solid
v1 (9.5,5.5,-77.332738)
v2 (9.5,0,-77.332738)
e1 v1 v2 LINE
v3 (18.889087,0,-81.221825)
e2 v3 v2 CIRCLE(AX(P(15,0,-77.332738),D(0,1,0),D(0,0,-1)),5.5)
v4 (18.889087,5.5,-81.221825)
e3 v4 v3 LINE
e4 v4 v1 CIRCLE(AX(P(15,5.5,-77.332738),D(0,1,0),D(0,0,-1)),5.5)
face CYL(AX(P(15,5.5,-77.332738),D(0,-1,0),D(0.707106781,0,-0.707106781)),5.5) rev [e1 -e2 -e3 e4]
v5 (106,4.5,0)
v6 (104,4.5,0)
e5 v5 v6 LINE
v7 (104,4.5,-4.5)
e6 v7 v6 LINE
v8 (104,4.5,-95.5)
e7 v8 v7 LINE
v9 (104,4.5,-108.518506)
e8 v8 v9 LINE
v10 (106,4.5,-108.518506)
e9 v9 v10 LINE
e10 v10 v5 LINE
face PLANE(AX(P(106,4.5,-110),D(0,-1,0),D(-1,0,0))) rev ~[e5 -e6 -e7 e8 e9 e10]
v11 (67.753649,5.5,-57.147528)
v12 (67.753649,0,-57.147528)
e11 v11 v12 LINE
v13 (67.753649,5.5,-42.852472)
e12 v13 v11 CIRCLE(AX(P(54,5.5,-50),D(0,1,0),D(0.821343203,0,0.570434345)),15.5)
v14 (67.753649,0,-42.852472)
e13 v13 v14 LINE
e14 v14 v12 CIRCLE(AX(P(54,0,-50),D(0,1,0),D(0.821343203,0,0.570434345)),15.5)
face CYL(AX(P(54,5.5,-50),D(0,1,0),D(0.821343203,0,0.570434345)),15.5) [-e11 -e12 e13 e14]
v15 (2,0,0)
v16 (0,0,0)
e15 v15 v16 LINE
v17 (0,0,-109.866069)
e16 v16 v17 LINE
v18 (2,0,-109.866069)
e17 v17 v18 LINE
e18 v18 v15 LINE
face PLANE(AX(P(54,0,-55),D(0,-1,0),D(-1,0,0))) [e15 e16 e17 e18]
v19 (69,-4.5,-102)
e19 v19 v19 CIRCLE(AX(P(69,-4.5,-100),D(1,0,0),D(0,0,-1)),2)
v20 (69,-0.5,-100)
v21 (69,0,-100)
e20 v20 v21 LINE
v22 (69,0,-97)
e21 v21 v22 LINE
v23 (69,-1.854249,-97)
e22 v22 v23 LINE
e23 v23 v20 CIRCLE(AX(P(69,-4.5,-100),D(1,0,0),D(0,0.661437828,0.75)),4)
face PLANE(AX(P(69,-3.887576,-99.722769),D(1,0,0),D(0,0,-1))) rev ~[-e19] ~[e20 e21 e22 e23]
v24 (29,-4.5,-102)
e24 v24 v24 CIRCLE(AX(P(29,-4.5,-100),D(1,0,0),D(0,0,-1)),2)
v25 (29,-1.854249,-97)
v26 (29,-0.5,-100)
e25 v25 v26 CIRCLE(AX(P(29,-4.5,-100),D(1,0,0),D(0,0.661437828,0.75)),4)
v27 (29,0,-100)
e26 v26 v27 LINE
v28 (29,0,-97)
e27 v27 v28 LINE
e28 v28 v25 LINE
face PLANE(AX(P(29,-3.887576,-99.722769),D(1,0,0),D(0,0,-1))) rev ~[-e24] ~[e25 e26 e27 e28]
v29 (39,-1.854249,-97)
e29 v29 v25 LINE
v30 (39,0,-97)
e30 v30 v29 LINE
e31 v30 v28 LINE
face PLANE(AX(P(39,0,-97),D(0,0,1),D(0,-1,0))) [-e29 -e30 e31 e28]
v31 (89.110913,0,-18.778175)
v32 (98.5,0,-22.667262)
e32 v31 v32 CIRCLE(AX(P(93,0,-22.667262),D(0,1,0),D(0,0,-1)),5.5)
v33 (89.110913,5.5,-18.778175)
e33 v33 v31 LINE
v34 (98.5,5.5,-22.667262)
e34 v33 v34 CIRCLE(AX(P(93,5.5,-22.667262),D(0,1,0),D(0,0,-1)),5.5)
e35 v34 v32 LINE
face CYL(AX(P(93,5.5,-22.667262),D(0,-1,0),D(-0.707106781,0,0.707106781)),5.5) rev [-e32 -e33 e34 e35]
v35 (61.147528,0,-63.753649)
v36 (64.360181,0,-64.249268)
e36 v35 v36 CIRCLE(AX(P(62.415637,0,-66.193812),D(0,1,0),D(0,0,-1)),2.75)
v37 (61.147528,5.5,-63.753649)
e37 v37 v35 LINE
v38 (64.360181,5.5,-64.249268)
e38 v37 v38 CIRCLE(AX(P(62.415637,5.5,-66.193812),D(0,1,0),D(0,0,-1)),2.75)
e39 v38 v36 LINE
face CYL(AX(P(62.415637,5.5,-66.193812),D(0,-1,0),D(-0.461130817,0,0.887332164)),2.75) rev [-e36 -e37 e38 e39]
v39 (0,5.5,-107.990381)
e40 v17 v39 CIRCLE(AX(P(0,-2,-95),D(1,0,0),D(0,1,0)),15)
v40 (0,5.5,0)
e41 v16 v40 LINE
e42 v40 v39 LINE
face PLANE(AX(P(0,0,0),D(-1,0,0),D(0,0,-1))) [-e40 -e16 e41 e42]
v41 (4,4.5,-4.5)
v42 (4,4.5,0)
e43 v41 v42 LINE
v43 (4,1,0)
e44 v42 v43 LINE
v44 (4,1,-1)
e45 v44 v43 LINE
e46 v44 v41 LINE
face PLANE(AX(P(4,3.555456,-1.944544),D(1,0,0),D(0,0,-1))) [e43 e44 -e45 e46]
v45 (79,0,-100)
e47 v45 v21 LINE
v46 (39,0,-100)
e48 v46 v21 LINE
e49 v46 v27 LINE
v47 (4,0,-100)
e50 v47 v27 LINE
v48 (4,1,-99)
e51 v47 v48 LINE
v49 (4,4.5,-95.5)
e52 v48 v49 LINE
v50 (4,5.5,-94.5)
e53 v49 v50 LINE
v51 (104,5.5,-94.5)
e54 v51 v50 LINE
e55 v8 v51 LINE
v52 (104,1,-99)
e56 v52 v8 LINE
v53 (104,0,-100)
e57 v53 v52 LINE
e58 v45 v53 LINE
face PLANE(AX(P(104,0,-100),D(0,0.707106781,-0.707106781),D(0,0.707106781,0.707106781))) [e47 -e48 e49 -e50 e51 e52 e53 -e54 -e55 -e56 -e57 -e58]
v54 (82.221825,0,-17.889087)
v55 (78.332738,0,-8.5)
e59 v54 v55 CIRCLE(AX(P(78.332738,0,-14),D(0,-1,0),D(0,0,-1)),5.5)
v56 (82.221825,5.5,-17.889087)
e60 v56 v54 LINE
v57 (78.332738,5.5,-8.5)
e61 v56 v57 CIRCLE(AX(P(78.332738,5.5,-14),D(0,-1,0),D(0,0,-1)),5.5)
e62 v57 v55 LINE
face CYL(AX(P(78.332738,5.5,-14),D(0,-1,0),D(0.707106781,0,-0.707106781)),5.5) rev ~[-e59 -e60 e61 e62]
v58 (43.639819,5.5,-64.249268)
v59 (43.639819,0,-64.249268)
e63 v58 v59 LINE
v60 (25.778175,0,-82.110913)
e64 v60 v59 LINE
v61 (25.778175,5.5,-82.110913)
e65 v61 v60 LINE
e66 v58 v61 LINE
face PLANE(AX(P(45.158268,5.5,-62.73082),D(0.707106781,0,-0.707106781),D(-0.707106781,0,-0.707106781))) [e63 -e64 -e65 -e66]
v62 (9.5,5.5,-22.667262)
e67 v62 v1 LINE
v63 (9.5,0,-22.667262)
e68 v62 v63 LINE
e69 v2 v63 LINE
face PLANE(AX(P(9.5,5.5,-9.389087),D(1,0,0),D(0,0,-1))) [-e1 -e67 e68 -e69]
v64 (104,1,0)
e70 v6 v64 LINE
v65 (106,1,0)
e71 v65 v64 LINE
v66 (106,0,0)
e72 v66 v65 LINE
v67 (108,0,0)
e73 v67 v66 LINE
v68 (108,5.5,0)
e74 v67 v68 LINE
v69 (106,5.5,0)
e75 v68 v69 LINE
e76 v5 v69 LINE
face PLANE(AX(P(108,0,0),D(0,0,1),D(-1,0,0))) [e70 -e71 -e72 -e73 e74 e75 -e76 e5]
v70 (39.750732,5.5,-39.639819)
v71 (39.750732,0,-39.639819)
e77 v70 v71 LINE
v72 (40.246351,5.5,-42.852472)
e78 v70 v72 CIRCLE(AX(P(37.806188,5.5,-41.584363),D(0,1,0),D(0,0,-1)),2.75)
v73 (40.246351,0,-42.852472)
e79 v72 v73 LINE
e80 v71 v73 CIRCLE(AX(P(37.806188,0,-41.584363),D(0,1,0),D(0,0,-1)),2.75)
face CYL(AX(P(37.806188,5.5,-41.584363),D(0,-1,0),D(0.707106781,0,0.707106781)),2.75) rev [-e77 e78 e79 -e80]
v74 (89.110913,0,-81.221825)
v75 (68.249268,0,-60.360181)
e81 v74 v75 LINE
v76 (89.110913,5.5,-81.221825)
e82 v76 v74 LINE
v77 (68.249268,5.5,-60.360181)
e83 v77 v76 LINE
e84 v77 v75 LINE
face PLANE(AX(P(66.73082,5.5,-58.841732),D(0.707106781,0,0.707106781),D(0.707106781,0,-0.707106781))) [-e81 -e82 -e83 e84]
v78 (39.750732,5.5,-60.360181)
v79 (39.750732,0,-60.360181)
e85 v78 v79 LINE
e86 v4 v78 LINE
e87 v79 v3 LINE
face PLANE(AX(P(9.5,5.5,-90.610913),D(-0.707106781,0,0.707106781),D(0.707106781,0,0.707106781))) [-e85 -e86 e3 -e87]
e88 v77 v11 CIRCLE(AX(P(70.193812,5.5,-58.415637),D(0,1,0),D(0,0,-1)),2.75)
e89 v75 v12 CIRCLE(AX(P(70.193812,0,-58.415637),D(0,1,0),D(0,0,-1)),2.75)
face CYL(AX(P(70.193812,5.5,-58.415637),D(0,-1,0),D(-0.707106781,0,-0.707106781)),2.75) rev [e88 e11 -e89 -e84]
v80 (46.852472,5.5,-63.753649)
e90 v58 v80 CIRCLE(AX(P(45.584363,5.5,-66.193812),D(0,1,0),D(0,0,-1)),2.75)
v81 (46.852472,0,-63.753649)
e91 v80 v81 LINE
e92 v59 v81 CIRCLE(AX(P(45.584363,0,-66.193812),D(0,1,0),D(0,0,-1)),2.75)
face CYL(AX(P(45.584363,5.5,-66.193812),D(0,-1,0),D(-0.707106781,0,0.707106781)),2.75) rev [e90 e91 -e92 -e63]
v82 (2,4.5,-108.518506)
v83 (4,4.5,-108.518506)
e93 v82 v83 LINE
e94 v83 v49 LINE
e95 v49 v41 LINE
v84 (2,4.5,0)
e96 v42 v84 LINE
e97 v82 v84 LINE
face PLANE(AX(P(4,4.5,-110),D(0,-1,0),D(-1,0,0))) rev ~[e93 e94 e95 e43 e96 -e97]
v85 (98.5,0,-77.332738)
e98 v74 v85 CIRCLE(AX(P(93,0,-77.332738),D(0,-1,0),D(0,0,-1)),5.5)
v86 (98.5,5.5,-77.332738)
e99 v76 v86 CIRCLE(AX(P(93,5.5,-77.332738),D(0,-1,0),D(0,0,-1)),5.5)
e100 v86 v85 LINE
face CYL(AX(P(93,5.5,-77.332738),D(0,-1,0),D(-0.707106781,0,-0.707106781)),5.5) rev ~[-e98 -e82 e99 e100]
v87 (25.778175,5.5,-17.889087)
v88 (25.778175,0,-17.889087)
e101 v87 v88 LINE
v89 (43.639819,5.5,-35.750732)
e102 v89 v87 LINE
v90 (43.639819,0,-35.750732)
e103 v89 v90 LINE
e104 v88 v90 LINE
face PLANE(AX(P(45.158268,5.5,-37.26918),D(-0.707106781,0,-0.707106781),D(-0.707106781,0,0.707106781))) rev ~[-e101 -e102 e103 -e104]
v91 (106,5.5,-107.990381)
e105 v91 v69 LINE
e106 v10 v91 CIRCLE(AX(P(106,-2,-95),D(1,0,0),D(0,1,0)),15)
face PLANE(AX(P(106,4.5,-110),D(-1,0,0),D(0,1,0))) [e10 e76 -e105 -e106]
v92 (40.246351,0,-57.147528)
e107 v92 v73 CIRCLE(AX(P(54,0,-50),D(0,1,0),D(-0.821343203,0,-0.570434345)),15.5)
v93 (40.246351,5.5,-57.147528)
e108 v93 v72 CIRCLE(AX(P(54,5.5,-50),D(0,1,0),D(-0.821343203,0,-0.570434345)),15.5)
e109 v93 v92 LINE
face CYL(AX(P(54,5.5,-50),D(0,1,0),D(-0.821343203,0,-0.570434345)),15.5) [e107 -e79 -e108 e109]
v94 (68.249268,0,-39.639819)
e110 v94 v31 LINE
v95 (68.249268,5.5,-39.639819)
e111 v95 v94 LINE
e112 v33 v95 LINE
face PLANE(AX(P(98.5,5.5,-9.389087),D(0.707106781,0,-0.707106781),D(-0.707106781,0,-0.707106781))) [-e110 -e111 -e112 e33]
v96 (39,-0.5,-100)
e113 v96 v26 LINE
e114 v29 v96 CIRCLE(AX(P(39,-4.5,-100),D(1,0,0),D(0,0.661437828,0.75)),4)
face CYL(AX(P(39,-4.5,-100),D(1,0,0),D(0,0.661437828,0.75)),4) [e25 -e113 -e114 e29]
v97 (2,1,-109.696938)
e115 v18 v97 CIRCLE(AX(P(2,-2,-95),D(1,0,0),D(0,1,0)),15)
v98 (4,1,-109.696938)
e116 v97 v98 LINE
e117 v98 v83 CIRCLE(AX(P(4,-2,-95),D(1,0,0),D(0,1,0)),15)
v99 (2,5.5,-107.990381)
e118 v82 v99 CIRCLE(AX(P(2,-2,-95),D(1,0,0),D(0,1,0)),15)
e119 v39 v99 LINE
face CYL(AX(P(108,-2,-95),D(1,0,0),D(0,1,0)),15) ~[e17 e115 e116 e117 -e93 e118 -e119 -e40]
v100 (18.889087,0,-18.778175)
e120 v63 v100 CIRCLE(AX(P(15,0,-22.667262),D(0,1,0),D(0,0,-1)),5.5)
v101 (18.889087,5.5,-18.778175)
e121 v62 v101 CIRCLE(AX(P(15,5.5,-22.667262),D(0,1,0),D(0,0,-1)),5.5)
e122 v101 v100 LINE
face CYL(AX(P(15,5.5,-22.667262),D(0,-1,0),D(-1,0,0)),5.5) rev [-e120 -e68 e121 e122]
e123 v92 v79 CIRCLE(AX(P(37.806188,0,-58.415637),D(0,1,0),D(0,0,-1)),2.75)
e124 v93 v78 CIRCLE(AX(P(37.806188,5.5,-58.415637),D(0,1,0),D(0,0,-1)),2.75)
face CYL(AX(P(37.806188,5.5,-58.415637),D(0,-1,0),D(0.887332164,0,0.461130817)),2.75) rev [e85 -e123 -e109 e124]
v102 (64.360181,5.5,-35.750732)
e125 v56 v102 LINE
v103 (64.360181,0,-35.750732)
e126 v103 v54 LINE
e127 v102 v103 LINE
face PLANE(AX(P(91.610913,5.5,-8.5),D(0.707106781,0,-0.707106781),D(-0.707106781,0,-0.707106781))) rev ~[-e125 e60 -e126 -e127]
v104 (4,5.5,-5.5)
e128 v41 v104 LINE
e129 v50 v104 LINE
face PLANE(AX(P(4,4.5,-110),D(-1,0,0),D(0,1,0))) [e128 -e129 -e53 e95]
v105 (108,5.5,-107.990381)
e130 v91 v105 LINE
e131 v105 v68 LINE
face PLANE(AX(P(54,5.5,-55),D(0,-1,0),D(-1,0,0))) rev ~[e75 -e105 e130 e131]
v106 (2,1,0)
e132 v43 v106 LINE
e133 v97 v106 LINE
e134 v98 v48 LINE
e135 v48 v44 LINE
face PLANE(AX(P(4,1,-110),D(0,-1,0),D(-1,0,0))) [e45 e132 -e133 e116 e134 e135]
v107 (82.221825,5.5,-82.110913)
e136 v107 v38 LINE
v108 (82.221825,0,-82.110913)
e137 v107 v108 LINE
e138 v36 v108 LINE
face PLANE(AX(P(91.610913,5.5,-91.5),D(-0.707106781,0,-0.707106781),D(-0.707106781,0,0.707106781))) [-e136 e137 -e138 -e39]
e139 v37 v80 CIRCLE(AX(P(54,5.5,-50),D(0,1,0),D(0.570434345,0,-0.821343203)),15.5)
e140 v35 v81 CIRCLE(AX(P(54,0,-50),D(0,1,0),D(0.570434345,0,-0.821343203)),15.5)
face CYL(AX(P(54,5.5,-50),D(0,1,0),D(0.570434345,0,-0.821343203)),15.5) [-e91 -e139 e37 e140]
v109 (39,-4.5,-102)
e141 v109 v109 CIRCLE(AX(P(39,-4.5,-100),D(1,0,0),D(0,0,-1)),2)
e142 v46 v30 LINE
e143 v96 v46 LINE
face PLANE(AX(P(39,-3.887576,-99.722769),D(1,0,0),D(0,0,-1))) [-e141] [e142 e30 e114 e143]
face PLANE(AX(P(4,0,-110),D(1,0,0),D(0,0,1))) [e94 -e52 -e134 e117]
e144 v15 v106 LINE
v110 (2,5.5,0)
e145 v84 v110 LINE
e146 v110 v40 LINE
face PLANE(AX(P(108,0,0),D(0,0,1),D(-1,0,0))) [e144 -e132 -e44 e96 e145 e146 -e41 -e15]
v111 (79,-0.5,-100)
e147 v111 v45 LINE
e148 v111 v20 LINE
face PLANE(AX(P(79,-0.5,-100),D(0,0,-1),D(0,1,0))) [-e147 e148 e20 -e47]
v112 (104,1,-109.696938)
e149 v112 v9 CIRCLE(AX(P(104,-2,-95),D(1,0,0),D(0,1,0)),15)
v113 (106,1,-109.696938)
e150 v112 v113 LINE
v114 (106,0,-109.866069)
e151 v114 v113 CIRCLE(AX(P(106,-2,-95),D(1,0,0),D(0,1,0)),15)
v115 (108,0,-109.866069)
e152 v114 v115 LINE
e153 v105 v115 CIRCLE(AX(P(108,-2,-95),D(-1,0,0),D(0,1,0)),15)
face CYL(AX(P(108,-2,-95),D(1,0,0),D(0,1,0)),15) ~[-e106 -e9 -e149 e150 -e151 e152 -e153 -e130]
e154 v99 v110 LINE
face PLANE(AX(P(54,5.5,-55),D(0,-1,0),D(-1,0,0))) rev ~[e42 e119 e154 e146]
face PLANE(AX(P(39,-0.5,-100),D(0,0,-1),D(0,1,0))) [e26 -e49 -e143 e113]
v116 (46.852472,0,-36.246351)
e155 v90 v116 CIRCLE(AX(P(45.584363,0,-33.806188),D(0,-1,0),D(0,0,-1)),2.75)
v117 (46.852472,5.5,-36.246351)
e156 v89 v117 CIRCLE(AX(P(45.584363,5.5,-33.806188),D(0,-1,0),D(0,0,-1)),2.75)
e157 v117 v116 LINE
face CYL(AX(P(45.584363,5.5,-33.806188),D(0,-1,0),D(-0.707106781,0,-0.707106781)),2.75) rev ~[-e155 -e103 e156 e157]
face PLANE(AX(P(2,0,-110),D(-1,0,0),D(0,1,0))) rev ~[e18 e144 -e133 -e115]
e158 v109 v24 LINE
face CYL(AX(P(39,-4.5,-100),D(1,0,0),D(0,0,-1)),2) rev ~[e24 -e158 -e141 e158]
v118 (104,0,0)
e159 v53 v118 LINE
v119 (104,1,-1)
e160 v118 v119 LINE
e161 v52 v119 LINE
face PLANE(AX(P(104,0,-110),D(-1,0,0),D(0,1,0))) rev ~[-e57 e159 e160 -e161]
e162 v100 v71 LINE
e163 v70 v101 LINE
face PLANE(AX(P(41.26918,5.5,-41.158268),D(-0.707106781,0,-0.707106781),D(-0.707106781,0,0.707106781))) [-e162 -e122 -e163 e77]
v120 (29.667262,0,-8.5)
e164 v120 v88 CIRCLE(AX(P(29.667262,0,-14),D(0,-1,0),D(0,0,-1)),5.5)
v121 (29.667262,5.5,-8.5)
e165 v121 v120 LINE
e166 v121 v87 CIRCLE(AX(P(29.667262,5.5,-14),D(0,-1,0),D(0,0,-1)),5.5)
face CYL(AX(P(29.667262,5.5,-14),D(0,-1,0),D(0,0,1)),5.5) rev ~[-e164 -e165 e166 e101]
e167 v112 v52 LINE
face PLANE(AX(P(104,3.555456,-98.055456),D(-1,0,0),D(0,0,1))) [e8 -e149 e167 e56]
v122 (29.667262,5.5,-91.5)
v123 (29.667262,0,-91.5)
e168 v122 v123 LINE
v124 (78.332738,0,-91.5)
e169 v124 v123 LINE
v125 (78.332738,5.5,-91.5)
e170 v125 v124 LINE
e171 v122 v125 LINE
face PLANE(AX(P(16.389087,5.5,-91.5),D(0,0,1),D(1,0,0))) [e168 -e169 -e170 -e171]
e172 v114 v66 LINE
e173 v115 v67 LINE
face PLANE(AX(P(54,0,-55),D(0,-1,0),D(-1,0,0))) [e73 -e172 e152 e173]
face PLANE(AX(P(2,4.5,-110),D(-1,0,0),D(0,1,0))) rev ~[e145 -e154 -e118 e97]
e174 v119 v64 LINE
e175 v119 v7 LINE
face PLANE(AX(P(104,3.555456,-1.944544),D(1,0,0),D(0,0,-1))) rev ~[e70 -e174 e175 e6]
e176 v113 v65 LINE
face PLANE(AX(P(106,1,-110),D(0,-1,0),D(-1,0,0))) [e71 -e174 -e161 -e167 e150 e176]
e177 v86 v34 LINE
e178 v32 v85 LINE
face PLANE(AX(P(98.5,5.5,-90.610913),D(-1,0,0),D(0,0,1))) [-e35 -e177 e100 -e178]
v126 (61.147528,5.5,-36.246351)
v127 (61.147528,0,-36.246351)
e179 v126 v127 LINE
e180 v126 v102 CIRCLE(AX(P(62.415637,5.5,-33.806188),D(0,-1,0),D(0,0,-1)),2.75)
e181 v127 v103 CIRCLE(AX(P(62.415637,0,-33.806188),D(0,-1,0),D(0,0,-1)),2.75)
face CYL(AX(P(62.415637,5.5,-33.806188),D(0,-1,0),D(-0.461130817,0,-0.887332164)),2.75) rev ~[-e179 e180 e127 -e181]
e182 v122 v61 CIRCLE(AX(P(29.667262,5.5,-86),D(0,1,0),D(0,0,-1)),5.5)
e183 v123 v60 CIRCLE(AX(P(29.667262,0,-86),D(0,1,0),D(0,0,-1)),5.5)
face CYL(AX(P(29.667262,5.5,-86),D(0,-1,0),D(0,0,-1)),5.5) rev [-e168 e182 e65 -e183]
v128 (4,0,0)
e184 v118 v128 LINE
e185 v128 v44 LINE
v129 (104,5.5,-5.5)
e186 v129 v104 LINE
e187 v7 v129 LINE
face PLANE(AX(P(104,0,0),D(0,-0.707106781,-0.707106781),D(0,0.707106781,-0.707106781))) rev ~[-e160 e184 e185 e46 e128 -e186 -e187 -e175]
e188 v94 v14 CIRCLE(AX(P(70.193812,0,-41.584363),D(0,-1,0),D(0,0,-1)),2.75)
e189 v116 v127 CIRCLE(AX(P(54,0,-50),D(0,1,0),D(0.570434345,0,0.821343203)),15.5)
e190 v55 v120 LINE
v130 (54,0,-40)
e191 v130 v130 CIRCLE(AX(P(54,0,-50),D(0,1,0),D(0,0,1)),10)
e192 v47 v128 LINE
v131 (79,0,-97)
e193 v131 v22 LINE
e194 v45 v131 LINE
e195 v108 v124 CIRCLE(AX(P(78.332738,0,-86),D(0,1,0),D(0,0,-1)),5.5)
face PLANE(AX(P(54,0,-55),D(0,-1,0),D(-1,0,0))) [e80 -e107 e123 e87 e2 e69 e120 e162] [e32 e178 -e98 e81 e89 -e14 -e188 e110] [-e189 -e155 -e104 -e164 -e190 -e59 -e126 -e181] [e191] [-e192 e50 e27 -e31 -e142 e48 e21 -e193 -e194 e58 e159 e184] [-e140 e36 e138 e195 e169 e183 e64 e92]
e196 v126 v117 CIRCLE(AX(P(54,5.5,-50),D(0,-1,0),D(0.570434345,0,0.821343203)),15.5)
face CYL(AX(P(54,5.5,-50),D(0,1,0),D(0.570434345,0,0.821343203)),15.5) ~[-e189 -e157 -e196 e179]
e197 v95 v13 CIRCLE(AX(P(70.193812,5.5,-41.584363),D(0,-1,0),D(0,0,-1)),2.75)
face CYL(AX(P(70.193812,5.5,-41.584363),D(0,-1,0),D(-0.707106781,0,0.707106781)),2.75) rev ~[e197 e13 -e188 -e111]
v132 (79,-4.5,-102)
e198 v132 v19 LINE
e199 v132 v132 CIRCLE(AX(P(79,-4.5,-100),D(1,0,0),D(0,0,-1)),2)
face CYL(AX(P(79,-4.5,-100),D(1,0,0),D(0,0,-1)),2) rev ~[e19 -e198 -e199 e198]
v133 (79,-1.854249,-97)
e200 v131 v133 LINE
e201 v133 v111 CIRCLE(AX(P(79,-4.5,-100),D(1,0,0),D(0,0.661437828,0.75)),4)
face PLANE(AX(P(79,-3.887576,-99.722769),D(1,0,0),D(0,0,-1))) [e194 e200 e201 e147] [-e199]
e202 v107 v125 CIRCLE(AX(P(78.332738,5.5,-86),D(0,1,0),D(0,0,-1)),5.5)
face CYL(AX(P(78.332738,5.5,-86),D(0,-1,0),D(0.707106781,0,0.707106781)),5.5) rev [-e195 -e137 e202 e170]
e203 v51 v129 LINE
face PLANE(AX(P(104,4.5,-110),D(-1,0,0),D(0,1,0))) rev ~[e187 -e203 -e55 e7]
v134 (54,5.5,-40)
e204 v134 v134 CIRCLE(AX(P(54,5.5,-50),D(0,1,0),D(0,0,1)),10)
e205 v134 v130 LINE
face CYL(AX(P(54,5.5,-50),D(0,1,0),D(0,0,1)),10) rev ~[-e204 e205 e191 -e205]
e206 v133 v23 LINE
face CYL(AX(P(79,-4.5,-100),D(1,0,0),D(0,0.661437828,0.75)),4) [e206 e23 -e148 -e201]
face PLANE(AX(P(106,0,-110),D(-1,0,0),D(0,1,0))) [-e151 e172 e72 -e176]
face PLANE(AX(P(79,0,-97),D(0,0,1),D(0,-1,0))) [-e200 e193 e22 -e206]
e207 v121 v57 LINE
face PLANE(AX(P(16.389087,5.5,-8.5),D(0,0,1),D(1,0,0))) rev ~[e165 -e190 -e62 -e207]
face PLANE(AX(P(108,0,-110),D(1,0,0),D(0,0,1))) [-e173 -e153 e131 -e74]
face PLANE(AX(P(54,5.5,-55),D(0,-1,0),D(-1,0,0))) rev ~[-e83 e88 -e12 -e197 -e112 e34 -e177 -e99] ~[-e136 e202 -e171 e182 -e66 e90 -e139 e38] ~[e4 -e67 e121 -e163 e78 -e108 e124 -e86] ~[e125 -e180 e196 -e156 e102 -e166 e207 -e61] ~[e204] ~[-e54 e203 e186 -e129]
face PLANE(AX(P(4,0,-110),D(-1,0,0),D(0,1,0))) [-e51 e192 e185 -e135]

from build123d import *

# Parameters (mm, degrees)
BOSS_EXTRUDE1_DEPTH = 5.5
SKETCH4_W           = 2
SKETCH4_H           = 1
CUT_EXTRUDE2_DEPTH  = 110
SKETCH5_R           = 10
CUT_EXTRUDE3_DEPTH  = 110
CUT_EXTRUDE4_START  = -4
CUT_EXTRUDE4_DEPTH  = 100
FILLET3_R           = 5.5
FILLET4_R           = 2.75
BOSS_EXTRUDE2_START = -29
SKETCH7_R           = 2
BOSS_EXTRUDE2_DEPTH = 10
BOSS_EXTRUDE3_START = -69
SKETCH7_3_R         = 2
BOSS_EXTRUDE3_DEPTH = 10
CUT_EXTRUDE5_DEPTH  = 155.389928428


with BuildPart() as part:
    # Sketch1 → Boss-Extrude1 (new body)
    with BuildSketch(Plane(origin=(0, 0, 0), x_dir=(1, 0, 0), z_dir=(0, 1, 0))):
        Polygon((0, 110), (4, 110), (4, 100), (104, 100), (104, 110), (108, 110), (108, 0), (0, 0), align=None)
    extrude(amount=BOSS_EXTRUDE1_DEPTH)

    # Sketch4 → Cut-Extrude2 (cut)
    with BuildSketch(Plane(origin=(0, 0, -110), x_dir=(-1, 0, 0), z_dir=(0, 0, -1))):
        with Locations((-3, 0.5)):
            Rectangle(SKETCH4_W, SKETCH4_H)
        with Locations((-3, 5)):
            Rectangle(SKETCH4_W, SKETCH4_H)
        with Locations((-105, 5)):
            Rectangle(SKETCH4_W, SKETCH4_H)
        with Locations((-105, 0.5)):
            Rectangle(SKETCH4_W, SKETCH4_H)
    extrude(amount=-CUT_EXTRUDE2_DEPTH, mode=Mode.SUBTRACT)

    # Sketch5 → Cut-Extrude3 (cut)
    with BuildSketch(Plane(origin=(0, 5.5, 0), x_dir=(1, 0, 0), z_dir=(0, 1, 0))):
        with Locations((54, 50)):
            Circle(SKETCH5_R)
        with BuildLine():
            Line((41.269180349, 41.158267646), (9.5, 9.389087297))
            Line((9.5, 9.389087297), (9.5, 90.610912703))
            Line((9.5, 90.610912703), (41.269180349, 58.841732354))
            ThreePointArc((41.269180349, 58.841732354), (38.5, 50), (41.269180349, 41.158267646))
        make_face()
        with BuildLine():
            Line((98.5, 90.610912703), (98.5, 9.389087297))
            Line((98.5, 9.389087297), (66.730819651, 41.158267646))
            ThreePointArc((66.730819651, 41.158267646), (69.5, 50), (66.730819651, 58.841732354))
            Line((66.730819651, 58.841732354), (98.5, 90.610912703))
        make_face()
        with BuildLine():
            Line((45.158267646, 62.730819651), (16.389087297, 91.5))
            Line((16.389087297, 91.5), (91.610912703, 91.5))
            Line((91.610912703, 91.5), (62.841732354, 62.730819651))
            ThreePointArc((62.841732354, 62.730819651), (54, 65.5), (45.158267646, 62.730819651))
        make_face()
        with BuildLine():
            Line((16.389087297, 8.5), (91.610912703, 8.5))
            Line((91.610912703, 8.5), (62.841732354, 37.269180349))
            ThreePointArc((62.841732354, 37.269180349), (54, 34.5), (45.158267646, 37.269180349))
            Line((45.158267646, 37.269180349), (16.389087297, 8.5))
        make_face()
    extrude(amount=-CUT_EXTRUDE3_DEPTH, mode=Mode.SUBTRACT)

    # Sketch6 → Cut-Extrude4 (cut)
    with BuildSketch(Plane(origin=(108, 0, 0), x_dir=(0, 0, -1), z_dir=(1, 0, 0)).offset(CUT_EXTRUDE4_START)):
        Polygon((0, 0), (5.5, 5.5), (0, 5.5), align=None)
        Polygon((100, 5.5), (100, 0), (94.5, 5.5), align=None)
    extrude(amount=-CUT_EXTRUDE4_DEPTH, mode=Mode.SUBTRACT)

    # Fillet3
    fillet3_edges = [part.edges().sort_by_distance(p)[0] for p in [
        (91.610912703, 2.75, -8.5),
        (98.5, 2.75, -9.389087297),
        (98.5, 2.75, -90.610912703),
        (91.610912703, 2.75, -91.5),
        (16.389087297, 2.75, -91.5),
        (9.5, 2.75, -90.610912703),
        (9.5, 2.75, -9.389087297),
        (16.389087297, 2.75, -8.5),
    ]]
    fillet(fillet3_edges, radius=FILLET3_R)

    # Fillet4
    fillet4_edges = [part.edges().sort_by_distance(p)[0] for p in [
        (66.730819651, 2.75, -41.158267646),
        (66.730819651, 2.75, -58.841732354),
        (62.841732354, 2.75, -62.730819651),
        (45.158267646, 2.75, -62.730819651),
        (41.269180349, 2.75, -41.158267646),
        (41.269180349, 2.75, -58.841732354),
        (62.841732354, 2.75, -37.269180349),
        (45.158267646, 2.75, -37.269180349),
    ]]
    fillet(fillet4_edges, radius=FILLET4_R)

    # Sketch7 → Boss-Extrude2 (add)
    with BuildSketch(Plane(origin=(108, 0, 0), x_dir=(0, 0, -1), z_dir=(1, 0, 0)).offset(BOSS_EXTRUDE2_START)):
        with BuildLine():
            Line((100, 0), (97, 0))
            Line((97, 0), (97, -1.854248689))
            ThreePointArc((97, -1.854248689), (101.645751311, -8.145751311), (100, -0.5))
            Line((100, -0.5), (100, 0))
        make_face()
        with Locations((100, -4.5)):
            Circle(SKETCH7_R, mode=Mode.SUBTRACT)
    extrude(amount=-BOSS_EXTRUDE2_DEPTH)

    # Sketch7<3> → Boss-Extrude3 (add)
    with BuildSketch(Plane(origin=(108, 0, 0), x_dir=(0, 0, -1), z_dir=(1, 0, 0)).offset(BOSS_EXTRUDE3_START)):
        with BuildLine():
            Line((100, 0), (97, 0))
            Line((97, 0), (97, -1.854248689))
            ThreePointArc((97, -1.854248689), (101.645751311, -8.145751311), (100, -0.5))
            Line((100, -0.5), (100, 0))
        make_face()
        with Locations((100, -4.5)):
            Circle(SKETCH7_3_R, mode=Mode.SUBTRACT)
    extrude(amount=-BOSS_EXTRUDE3_DEPTH)

    # Sketch9 → Cut-Extrude5 (cut, through all)
    with BuildSketch(Plane(origin=(108, 0, 0), x_dir=(0, 0, -1), z_dir=(1, 0, 0))):
        with BuildLine():
            Line((110, -2), (115, -2))
            Line((115, -2), (115, 18))
            Line((115, 18), (95, 18))
            Line((95, 18), (95, 13))
            ThreePointArc((95, 13), (105.606601718, 8.606601718), (110, -2))
        make_face()
    extrude(amount=-CUT_EXTRUDE5_DEPTH, mode=Mode.SUBTRACT)


solid = part.part
